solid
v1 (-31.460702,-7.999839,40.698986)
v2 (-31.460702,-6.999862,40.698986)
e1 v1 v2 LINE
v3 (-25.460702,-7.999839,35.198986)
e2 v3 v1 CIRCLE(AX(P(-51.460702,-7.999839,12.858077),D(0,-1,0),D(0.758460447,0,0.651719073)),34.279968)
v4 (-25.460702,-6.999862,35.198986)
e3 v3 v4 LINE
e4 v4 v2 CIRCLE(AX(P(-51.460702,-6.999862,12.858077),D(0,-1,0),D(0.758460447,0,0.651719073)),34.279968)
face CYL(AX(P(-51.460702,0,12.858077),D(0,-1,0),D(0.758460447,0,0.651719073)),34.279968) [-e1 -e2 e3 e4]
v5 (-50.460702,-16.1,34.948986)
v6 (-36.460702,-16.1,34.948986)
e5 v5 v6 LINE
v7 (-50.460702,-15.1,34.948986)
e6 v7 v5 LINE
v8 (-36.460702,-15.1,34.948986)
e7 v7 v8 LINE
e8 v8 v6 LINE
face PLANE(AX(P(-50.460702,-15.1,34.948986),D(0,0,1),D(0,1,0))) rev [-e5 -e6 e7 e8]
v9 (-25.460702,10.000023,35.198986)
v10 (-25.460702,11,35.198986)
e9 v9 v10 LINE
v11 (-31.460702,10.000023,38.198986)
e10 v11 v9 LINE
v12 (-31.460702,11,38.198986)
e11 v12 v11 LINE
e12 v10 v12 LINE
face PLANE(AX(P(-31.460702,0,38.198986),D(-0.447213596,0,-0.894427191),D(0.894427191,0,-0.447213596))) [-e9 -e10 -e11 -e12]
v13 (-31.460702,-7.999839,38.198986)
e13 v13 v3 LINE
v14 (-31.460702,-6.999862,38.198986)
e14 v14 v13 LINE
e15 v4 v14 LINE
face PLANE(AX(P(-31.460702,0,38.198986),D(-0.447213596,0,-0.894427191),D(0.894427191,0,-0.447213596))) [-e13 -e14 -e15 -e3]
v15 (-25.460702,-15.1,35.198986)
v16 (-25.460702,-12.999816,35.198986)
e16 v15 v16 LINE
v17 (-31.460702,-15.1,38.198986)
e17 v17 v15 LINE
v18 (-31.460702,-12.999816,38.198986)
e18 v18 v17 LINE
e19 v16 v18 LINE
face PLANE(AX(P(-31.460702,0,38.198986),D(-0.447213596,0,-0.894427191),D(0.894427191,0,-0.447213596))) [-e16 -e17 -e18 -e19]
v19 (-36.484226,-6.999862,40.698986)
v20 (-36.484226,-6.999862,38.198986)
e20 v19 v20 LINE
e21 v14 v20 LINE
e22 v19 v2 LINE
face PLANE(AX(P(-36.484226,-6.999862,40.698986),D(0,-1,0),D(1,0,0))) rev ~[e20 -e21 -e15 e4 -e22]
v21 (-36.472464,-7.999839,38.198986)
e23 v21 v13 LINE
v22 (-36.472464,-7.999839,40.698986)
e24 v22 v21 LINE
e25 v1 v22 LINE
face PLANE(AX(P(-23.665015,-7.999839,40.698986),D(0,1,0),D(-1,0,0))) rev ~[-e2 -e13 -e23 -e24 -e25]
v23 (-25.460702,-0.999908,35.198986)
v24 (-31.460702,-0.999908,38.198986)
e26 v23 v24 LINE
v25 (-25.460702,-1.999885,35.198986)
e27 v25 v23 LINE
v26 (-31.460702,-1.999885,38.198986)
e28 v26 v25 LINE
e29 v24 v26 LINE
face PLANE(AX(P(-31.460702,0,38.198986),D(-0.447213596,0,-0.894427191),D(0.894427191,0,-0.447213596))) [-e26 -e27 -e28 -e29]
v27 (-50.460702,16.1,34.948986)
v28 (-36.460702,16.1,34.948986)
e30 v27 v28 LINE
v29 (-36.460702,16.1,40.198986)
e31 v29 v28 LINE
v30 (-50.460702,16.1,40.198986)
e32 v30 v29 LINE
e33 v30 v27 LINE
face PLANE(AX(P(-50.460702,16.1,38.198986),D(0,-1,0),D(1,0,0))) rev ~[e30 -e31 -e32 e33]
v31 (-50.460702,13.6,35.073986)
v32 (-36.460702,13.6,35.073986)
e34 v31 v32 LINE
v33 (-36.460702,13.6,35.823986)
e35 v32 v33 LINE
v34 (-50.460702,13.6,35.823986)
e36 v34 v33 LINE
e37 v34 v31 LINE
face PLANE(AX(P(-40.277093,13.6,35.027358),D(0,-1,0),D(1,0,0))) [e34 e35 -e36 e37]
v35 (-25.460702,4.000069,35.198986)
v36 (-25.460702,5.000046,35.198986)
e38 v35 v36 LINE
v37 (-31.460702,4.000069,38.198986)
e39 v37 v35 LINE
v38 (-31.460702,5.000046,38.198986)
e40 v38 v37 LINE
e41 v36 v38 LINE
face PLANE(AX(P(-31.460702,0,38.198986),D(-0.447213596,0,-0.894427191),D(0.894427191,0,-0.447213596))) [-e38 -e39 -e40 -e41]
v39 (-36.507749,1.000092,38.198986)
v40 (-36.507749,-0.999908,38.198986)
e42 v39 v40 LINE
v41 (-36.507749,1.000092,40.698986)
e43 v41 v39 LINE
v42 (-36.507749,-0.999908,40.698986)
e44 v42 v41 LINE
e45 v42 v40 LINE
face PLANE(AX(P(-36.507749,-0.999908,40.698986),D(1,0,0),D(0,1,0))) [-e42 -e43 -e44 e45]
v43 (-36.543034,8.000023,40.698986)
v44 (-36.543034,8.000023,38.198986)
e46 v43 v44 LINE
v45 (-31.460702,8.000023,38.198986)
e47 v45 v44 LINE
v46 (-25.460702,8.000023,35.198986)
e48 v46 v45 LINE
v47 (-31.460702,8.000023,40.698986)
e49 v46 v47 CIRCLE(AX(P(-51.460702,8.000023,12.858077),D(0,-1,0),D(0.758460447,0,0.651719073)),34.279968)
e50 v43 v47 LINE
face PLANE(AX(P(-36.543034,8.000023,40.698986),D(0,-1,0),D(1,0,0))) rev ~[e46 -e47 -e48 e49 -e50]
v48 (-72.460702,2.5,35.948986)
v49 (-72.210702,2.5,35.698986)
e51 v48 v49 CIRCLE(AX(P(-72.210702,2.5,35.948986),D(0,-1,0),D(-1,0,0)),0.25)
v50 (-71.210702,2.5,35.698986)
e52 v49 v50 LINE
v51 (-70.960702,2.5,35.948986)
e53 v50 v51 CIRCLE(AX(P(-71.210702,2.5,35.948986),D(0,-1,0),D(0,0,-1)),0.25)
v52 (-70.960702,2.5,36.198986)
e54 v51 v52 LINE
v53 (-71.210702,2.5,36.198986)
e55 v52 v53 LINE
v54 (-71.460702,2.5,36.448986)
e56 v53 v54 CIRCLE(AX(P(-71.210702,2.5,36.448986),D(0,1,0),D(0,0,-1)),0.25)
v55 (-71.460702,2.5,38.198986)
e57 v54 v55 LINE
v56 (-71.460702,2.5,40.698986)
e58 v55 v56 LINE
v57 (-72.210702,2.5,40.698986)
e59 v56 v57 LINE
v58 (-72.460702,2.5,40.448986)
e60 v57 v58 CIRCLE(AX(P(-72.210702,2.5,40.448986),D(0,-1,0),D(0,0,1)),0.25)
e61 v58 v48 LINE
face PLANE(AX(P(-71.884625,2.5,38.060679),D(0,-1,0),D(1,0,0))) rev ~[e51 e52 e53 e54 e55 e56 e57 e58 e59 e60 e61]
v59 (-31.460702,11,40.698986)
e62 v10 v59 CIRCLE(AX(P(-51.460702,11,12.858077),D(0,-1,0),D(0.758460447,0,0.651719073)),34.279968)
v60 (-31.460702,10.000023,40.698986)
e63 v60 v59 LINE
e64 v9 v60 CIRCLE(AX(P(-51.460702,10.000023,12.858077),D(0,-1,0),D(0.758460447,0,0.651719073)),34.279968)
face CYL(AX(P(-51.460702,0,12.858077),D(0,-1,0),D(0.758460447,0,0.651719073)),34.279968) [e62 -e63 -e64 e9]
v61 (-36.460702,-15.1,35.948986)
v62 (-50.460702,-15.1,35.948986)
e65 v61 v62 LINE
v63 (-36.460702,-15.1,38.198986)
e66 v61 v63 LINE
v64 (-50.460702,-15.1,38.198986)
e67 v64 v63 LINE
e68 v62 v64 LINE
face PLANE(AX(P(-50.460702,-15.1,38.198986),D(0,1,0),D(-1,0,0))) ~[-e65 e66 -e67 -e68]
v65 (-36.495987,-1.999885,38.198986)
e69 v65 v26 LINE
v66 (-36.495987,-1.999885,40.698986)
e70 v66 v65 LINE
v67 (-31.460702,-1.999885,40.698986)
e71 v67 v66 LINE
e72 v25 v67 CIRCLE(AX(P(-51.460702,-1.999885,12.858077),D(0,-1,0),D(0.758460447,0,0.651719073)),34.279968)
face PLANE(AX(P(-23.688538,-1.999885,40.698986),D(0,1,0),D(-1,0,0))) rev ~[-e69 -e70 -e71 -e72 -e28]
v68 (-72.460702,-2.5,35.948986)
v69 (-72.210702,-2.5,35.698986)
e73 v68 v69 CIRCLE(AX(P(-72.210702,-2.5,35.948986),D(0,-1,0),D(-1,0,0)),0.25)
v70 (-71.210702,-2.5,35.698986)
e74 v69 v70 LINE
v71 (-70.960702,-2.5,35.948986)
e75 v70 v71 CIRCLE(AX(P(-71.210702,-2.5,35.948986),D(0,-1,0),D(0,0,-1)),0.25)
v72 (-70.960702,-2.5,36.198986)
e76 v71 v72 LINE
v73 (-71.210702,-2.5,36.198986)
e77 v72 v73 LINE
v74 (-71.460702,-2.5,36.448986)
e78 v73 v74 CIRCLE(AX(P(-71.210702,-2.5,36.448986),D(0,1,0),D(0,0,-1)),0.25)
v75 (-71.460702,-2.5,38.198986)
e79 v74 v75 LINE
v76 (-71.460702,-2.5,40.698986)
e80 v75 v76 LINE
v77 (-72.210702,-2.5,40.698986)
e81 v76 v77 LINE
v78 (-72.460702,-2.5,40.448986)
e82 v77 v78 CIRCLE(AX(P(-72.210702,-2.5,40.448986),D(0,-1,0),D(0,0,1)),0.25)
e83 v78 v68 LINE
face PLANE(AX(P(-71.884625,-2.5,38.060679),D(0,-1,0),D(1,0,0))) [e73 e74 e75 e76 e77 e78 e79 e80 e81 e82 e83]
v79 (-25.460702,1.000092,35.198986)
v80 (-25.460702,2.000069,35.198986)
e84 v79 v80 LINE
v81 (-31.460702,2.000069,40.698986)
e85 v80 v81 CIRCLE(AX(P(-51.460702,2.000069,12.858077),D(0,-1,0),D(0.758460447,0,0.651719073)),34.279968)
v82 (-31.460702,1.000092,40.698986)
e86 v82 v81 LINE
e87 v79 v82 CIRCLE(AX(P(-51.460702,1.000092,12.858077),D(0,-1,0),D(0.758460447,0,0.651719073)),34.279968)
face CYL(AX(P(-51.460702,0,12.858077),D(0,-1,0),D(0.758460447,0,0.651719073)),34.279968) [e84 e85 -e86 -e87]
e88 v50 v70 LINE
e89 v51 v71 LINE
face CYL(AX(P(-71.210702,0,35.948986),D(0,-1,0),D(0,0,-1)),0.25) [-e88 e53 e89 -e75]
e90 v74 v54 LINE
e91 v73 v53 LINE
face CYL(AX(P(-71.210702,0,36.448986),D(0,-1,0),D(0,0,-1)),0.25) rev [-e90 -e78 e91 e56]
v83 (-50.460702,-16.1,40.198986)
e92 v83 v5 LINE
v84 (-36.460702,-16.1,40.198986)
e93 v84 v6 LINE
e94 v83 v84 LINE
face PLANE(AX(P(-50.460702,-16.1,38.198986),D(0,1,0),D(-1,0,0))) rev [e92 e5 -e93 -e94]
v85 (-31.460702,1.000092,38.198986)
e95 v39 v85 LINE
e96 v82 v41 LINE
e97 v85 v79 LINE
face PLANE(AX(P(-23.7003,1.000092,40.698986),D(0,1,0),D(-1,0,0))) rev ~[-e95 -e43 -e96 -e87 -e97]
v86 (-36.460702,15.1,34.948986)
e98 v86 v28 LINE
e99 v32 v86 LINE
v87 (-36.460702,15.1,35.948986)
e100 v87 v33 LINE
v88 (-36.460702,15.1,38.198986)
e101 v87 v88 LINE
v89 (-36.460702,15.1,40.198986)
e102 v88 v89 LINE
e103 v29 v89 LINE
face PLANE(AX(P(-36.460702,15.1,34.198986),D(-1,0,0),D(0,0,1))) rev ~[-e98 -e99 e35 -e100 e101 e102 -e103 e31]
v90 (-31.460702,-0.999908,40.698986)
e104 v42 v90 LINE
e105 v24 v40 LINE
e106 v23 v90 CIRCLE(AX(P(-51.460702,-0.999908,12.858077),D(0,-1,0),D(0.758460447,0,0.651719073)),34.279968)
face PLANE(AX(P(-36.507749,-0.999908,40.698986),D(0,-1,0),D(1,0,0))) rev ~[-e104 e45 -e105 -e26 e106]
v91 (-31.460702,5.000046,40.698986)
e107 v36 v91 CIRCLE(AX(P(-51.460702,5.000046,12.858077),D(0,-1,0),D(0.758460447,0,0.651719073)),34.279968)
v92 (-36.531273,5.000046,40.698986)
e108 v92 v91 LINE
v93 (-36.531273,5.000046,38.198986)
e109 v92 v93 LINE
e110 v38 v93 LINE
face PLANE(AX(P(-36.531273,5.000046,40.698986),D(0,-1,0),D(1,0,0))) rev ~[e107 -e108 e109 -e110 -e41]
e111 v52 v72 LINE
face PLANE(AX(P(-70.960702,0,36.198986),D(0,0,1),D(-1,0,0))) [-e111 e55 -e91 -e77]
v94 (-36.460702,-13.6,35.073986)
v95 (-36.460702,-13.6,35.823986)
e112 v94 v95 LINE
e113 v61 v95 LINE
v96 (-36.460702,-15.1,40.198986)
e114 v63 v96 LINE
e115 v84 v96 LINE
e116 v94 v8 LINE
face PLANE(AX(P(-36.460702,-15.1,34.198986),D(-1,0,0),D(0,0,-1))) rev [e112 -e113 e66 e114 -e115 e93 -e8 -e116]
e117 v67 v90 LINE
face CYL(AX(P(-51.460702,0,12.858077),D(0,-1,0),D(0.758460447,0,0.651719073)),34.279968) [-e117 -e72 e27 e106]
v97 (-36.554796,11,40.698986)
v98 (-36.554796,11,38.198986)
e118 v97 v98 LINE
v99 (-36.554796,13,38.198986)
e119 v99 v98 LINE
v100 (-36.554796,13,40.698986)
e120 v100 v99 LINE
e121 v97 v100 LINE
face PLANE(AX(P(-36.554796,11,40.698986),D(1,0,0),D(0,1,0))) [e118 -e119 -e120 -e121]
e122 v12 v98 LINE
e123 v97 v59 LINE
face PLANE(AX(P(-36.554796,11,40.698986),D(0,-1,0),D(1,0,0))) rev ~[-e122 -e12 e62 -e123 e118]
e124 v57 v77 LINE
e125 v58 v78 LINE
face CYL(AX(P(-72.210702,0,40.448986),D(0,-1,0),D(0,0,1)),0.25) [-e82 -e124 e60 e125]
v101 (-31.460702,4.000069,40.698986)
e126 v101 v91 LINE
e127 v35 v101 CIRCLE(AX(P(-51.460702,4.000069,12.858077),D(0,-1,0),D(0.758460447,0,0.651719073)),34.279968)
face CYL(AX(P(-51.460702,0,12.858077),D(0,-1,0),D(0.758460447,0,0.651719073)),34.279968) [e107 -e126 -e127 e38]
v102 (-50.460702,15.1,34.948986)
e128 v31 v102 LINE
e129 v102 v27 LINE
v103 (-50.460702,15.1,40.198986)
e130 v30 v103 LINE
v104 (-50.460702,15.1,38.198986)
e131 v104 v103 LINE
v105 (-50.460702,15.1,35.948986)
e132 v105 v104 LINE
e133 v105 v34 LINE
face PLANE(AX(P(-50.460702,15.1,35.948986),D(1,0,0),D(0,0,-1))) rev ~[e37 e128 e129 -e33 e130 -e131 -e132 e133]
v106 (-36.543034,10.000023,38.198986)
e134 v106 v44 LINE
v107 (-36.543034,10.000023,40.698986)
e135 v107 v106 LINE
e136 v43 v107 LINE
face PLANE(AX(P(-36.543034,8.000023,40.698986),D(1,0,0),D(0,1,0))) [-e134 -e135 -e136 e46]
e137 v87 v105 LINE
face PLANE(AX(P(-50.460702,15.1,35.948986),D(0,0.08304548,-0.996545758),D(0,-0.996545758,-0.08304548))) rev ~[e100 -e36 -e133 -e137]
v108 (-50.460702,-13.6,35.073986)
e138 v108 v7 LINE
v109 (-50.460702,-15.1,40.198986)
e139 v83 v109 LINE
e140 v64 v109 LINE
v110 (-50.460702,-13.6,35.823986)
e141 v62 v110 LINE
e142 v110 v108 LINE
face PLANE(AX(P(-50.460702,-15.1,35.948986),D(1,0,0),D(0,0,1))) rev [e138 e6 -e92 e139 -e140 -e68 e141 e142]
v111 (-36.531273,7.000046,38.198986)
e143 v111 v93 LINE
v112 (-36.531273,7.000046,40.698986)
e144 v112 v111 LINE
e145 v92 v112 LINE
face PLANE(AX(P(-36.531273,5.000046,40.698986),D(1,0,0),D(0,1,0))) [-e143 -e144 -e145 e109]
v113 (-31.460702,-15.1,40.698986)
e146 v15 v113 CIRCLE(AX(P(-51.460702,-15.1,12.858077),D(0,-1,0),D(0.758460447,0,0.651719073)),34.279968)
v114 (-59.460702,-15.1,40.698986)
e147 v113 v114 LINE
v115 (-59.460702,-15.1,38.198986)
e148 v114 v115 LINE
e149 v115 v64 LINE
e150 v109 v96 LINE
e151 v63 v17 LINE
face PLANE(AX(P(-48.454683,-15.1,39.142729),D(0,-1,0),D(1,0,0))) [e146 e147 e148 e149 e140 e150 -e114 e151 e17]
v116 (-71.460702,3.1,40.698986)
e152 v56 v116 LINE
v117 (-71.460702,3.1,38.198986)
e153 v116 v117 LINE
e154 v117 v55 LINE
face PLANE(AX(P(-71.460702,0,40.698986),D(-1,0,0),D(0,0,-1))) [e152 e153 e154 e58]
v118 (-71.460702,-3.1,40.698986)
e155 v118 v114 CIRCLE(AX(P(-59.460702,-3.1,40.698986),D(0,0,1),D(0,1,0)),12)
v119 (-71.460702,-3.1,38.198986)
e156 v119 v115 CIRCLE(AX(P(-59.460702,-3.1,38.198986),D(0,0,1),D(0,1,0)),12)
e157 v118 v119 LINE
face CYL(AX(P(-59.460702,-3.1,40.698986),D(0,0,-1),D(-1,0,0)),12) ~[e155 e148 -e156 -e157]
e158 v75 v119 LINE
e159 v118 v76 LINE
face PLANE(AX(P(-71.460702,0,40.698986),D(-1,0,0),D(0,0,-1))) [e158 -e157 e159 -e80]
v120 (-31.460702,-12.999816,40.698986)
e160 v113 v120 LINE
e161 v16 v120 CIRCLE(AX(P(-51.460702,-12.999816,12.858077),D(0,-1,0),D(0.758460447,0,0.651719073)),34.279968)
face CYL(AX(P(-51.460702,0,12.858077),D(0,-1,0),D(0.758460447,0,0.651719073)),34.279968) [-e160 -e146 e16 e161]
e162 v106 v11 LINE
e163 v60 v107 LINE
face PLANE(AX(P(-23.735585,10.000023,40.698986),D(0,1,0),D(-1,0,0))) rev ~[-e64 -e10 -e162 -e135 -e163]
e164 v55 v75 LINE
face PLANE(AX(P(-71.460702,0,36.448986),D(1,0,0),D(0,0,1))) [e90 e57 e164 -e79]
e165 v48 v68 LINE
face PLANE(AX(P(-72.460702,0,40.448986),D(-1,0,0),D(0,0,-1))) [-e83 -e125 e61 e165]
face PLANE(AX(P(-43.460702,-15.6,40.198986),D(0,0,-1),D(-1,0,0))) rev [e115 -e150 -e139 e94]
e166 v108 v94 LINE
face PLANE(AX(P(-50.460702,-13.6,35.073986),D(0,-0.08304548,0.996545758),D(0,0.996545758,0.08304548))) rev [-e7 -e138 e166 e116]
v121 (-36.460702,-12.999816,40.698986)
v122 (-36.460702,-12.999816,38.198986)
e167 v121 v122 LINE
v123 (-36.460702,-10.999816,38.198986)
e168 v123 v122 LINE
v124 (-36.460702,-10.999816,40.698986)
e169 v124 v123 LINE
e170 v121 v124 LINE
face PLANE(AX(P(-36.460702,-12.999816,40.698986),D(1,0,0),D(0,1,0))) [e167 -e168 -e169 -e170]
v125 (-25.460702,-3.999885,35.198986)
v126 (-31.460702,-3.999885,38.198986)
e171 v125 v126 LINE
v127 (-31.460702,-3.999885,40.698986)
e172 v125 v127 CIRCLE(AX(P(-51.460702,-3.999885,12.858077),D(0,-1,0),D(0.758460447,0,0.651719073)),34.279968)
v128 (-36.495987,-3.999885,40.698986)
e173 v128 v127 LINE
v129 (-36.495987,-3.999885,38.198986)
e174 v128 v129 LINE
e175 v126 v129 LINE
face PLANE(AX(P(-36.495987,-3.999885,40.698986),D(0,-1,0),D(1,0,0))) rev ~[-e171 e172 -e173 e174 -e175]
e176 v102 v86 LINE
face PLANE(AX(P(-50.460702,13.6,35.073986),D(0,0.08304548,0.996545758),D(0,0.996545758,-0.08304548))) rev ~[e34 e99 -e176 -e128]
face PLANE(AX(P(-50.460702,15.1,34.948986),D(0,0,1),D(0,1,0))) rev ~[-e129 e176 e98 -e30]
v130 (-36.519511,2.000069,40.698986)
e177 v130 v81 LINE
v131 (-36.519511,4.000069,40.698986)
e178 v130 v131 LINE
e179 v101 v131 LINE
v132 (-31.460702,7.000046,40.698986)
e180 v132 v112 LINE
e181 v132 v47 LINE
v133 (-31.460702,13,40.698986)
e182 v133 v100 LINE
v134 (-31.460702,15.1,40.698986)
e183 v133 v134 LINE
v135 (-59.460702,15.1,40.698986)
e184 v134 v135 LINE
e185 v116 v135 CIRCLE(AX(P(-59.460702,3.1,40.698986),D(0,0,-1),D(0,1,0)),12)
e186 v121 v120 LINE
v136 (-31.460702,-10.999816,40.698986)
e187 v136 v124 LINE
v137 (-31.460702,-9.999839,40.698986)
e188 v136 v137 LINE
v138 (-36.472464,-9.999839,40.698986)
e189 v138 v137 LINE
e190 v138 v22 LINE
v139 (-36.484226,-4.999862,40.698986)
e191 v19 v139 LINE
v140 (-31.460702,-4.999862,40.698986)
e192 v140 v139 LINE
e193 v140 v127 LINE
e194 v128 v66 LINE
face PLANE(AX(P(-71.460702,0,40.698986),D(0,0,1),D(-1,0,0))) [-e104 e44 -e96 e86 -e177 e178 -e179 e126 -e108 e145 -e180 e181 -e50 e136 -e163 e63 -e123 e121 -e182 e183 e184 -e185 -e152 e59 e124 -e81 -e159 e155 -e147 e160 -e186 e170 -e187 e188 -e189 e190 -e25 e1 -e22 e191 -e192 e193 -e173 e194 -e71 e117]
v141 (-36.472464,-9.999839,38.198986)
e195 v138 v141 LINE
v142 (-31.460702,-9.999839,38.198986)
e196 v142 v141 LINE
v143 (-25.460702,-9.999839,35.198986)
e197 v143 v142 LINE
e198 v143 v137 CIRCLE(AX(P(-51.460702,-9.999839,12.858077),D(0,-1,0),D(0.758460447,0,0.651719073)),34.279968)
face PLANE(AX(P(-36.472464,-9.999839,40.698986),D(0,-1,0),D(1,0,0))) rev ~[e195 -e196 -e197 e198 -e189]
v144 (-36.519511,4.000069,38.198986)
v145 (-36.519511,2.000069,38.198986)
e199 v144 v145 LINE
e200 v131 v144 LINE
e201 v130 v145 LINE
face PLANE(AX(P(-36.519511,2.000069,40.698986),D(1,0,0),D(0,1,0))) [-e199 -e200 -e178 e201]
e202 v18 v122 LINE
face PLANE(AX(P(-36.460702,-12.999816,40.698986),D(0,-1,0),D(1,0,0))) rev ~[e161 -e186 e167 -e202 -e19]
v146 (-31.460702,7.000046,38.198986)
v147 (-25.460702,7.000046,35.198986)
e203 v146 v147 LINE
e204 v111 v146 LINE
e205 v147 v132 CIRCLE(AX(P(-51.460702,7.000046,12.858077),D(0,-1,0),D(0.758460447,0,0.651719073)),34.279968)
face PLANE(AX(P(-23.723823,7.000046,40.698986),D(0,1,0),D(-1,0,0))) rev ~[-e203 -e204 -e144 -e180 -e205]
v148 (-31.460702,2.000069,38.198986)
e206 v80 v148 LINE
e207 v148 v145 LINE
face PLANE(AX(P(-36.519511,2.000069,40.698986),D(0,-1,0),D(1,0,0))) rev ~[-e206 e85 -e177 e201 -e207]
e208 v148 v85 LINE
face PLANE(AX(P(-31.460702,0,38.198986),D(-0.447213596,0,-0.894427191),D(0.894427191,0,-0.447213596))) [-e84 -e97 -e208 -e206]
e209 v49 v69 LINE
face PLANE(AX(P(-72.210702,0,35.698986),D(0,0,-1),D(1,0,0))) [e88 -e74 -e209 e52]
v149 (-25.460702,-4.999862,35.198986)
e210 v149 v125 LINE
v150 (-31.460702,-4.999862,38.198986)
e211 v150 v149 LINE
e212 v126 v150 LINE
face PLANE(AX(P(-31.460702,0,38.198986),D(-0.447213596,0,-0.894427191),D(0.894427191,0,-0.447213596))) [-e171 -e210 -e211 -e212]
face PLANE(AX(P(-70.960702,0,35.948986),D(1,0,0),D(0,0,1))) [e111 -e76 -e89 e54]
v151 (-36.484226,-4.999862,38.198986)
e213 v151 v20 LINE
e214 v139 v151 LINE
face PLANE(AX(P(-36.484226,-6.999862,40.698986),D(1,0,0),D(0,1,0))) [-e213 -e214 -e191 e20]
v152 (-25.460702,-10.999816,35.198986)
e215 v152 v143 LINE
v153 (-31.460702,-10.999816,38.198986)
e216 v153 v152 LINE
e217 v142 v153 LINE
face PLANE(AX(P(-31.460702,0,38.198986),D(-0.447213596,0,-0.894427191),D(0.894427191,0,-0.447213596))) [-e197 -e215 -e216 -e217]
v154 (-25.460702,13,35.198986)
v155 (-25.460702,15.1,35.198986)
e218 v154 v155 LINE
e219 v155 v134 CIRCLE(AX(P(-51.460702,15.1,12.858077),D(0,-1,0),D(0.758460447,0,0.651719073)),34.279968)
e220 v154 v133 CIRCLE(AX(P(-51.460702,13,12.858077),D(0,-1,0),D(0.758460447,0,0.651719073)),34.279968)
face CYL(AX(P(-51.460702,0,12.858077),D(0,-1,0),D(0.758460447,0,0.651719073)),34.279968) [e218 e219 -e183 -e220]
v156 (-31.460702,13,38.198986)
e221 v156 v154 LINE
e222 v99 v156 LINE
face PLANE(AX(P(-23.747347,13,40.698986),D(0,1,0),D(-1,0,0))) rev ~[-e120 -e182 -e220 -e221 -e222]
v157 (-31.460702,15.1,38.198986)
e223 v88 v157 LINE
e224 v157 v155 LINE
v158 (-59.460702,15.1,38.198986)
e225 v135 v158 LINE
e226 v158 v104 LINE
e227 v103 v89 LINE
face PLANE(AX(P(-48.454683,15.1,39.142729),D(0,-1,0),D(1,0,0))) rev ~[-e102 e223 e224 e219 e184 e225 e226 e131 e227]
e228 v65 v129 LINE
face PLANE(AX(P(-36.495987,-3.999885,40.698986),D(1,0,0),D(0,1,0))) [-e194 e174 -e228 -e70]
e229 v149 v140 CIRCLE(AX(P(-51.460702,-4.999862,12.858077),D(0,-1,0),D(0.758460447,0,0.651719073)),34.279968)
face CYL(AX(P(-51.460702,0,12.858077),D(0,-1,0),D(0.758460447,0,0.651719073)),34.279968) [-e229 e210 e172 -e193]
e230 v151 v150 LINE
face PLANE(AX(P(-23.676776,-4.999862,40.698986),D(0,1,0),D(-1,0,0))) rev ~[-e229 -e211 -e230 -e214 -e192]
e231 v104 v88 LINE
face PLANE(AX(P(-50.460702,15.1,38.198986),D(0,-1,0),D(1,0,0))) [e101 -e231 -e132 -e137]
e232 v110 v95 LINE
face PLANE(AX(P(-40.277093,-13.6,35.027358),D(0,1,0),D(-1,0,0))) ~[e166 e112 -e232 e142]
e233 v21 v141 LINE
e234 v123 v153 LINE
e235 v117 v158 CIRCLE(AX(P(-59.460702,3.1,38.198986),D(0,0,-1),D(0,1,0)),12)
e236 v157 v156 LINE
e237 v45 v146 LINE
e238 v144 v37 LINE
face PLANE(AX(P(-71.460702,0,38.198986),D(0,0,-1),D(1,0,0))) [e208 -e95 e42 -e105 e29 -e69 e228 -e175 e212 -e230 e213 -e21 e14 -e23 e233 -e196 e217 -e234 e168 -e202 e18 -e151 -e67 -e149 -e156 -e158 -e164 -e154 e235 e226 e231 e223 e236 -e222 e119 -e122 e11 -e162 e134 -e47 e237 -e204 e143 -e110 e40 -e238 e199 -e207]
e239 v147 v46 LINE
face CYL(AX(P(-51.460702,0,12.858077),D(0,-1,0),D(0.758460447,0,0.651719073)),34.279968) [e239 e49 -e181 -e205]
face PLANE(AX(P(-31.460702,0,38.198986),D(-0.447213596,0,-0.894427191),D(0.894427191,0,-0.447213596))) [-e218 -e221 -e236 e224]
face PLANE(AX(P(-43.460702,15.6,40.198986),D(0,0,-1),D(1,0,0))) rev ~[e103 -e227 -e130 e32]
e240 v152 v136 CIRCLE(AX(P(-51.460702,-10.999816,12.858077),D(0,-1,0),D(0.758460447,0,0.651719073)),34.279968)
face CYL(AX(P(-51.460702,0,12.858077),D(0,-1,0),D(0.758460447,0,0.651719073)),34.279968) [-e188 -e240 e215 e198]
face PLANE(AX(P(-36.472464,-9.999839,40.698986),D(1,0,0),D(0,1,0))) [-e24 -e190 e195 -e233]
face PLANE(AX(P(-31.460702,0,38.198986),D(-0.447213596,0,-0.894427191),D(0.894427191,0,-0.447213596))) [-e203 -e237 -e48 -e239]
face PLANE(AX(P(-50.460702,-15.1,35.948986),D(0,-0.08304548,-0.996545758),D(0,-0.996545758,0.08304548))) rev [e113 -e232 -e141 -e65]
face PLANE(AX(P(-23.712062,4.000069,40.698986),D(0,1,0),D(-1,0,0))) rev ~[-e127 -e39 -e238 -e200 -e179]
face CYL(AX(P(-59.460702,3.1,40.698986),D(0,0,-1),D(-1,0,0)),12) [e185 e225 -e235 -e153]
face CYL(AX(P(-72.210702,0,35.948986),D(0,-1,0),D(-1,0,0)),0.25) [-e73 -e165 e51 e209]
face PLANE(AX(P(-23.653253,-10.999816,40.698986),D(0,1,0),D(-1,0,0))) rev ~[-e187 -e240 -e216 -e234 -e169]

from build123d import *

# Parameters (mm, degrees)
F1_DEPTH      = 15.1
F1_DEPTH_BACK = 15.1
F2_DEPTH      = 2.5
F2_DEPTH_BACK = 2.5
F3_W          = 14
F3_H          = 1
F4_DEPTH      = 2
F4_DEPTH_BACK = 4
F6_DEPTH      = 1.5
F7_W          = 5.0940940584
F7_H          = 2
F7_W_2        = 5.0823323011
F7_W_3        = 5.0705705438
F7_W_4        = 5.0588087865
F7_W_5        = 5.0470470292
F7_W_6        = 5.0352852719
F7_W_7        = 5.0235235146
F7_W_8        = 5.0117617573
F7_W_9        = 5
F8_DEPTH      = 6.501
F10_DEPTH     = 15
F11_R         = 12


with BuildPart() as f1:
    # F0 (on Front) → F1 (new body, two sides)
    with BuildSketch(Plane.XZ) as f1_sk:
        with BuildLine():
            Line((-71.4607020907, 40.6989861274), (-71.4607020907, 38.1989861274))
            Line((-71.4607020907, 38.1989861274), (-31.4607020907, 38.1989861274))
            Line((-31.4607020907, 38.1989861274), (-25.4607020907, 35.1989861274))
            ThreePointArc((-25.4607020907, 35.1989861274), (-28.2968833209, 38.1276975126), (-31.4607020907, 40.6989861274))
            Line((-31.4607020907, 40.6989861274), (-71.4607020907, 40.6989861274))
        make_face()
    extrude(amount=F1_DEPTH)
    extrude(f1_sk.sketch, amount=-F1_DEPTH_BACK)

    # F0 (on Front) → F2 (join, two sides)
    with BuildSketch(Plane.XZ) as f2_sk:
        with BuildLine():
            Line((-71.4607020907, 36.4489861274), (-71.4607020907, 38.1989861274))
            Line((-71.4607020907, 38.1989861274), (-71.4607020907, 40.6989861274))
            Line((-71.4607020907, 40.6989861274), (-72.2107020907, 40.6989861274))
            ThreePointArc((-72.2107020907, 40.6989861274), (-72.387478786, 40.6257628227), (-72.4607020907, 40.4489861274))
            Line((-72.4607020907, 40.4489861274), (-72.4607020907, 35.9489861274))
            ThreePointArc((-72.4607020907, 35.9489861274), (-72.387478786, 35.7722094321), (-72.2107020907, 35.6989861274))
            Line((-72.2107020907, 35.6989861274), (-71.2107020907, 35.6989861274))
            ThreePointArc((-71.2107020907, 35.6989861274), (-71.0339253954, 35.7722094321), (-70.9607020907, 35.9489861274))
            Line((-70.9607020907, 35.9489861274), (-70.9607020907, 36.1989861274))
            Line((-70.9607020907, 36.1989861274), (-71.2107020907, 36.1989861274))
            ThreePointArc((-71.2107020907, 36.1989861274), (-71.387478786, 36.2722094321), (-71.4607020907, 36.4489861274))
        make_face()
    extrude(amount=F2_DEPTH)
    extrude(f2_sk.sketch, amount=-F2_DEPTH_BACK)

    # F7 (on face) → F8 (cut, through all)
    with BuildSketch(Plane.XY.offset(40.6989861274)):
        Polygon((-31.4607020907, -10.9998155474), (-31.4607020907, -12.9998155474), (-23.5907521141, -12.9998155474), (-23.6532528544, -10.9998155474), align=None)
        Polygon((-31.4607020907, -7.999838604), (-31.4607020907, -9.999838604), (-23.6025138714, -9.999838604), (-23.6650146117, -7.999838604), align=None)
        Polygon((-23.676776369, -4.9998616605), (-31.4607020907, -4.9998616605), (-31.4607020907, -6.9998616605), (-23.6142756287, -6.9998616605), align=None)
        Polygon((-23.6885381263, -1.9998847171), (-31.4607020907, -1.9998847171), (-31.4607020907, -3.9998847171), (-23.626037386, -3.9998847171), align=None)
        Polygon((-23.7002998836, 1.0000922263), (-31.4607020907, 1.0000922263), (-31.4607020907, -0.9999077737), (-23.6377991433, -0.9999077737), align=None)
        Polygon((-23.7120616409, 4.0000691697), (-31.4607020907, 4.0000691697), (-31.4607020907, 2.0000691697), (-23.6495609006, 2.0000691697), align=None)
        Polygon((-23.7238233982, 7.0000461132), (-31.4607020907, 7.0000461132), (-31.4607020907, 5.0000461132), (-23.6613226579, 5.0000461132), align=None)
        Polygon((-23.7355851555, 10.0000230566), (-31.4607020907, 10.0000230566), (-31.4607020907, 8.0000230566), (-23.6730844152, 8.0000230566), align=None)
        Polygon((-23.6848461725, 11), (-23.7473469128, 13), (-31.4607020907, 13), (-31.4607020907, 11), align=None)
        with Locations((-34.0077491199, 12)):
            Rectangle(F7_W, F7_H)
        with Locations((-34.0018682413, 9.0000230566)):
            Rectangle(F7_W_2, F7_H)
        with Locations((-33.9959873626, 6.0000461132)):
            Rectangle(F7_W_3, F7_H)
        with Locations((-33.990106484, 3.0000691697)):
            Rectangle(F7_W_4, F7_H)
        with Locations((-33.9842256053, 9.22263e-05)):
            Rectangle(F7_W_5, F7_H)
        with Locations((-33.9783447267, -2.9998847171)):
            Rectangle(F7_W_6, F7_H)
        with Locations((-33.972463848, -5.9998616605)):
            Rectangle(F7_W_7, F7_H)
        with Locations((-33.9665829694, -8.999838604)):
            Rectangle(F7_W_8, F7_H)
        with Locations((-33.9607020907, -11.9998155474)):
            Rectangle(F7_W_9, F7_H)
    extrude(amount=-F8_DEPTH, mode=Mode.SUBTRACT)

    # F11
    f11_edges = [f1.edges().sort_by_distance(p)[0] for p in [
        (-71.460702, -15.1, 39.448986),
        (-71.460702, 15.1, 39.448986),
    ]]
    fillet(f11_edges, radius=F11_R)



with BuildPart() as f4:
    # F3 (on face) → F4 (new body, two sides)
    with BuildSketch(Plane(origin=(0, 0, 38.1989861274), x_dir=(1, 0, 0), z_dir=(0, 0, -1))) as f4_sk:
        with Locations((-43.4607020907, -15.6)):
            Rectangle(F3_W, F3_H)
    extrude(amount=-F4_DEPTH)
    extrude(f4_sk.sketch, amount=F4_DEPTH_BACK)

    # F5 (on face) → F6 (join)
    with BuildSketch(Plane.XZ.offset(-15.1)):
        Polygon((-36.4607020907, 34.1989861274), (-36.4607020907, 35.9489861274), (-43.4607020907, 35.9489861274), (-44.4607020907, 34.1989861274), align=None)
        Polygon((-44.4607020907, 34.1989861274), (-43.4607020907, 35.9489861274), (-50.4607020907, 35.9489861274), (-50.4607020907, 34.1989861274), align=None)
    extrude(amount=F6_DEPTH)

    # F9 (on face) → F10 (cut)
    with BuildSketch(Plane(origin=(-50.4607020907, 0, 0), x_dir=(0, -1, 0), z_dir=(-1, 0, 0))):
        Polygon((-15.1, 35.9489861274), (-13.6, 35.8239861274), (-13.6, 35.9489861274), align=None)
        Polygon((-13.6, 35.0739861274), (-15.1, 34.9489861274), (-13.6, 34.9489861274), align=None)
        Polygon((-15.1, 34.9489861274), (-16.1, 34.9489861274), (-16.1, 34.1989861274), (-13.6, 34.1989861274), (-13.6, 34.9489861274), align=None)
    extrude(amount=-F10_DEPTH, mode=Mode.SUBTRACT)


with BuildPart() as f1_1:
    add(f1.part)

    add(f4.part)  # F12 merges F4
    # F12: F4 across plane
    add(f4.part.mirror(Plane.XZ))


solid = f1_1.part
